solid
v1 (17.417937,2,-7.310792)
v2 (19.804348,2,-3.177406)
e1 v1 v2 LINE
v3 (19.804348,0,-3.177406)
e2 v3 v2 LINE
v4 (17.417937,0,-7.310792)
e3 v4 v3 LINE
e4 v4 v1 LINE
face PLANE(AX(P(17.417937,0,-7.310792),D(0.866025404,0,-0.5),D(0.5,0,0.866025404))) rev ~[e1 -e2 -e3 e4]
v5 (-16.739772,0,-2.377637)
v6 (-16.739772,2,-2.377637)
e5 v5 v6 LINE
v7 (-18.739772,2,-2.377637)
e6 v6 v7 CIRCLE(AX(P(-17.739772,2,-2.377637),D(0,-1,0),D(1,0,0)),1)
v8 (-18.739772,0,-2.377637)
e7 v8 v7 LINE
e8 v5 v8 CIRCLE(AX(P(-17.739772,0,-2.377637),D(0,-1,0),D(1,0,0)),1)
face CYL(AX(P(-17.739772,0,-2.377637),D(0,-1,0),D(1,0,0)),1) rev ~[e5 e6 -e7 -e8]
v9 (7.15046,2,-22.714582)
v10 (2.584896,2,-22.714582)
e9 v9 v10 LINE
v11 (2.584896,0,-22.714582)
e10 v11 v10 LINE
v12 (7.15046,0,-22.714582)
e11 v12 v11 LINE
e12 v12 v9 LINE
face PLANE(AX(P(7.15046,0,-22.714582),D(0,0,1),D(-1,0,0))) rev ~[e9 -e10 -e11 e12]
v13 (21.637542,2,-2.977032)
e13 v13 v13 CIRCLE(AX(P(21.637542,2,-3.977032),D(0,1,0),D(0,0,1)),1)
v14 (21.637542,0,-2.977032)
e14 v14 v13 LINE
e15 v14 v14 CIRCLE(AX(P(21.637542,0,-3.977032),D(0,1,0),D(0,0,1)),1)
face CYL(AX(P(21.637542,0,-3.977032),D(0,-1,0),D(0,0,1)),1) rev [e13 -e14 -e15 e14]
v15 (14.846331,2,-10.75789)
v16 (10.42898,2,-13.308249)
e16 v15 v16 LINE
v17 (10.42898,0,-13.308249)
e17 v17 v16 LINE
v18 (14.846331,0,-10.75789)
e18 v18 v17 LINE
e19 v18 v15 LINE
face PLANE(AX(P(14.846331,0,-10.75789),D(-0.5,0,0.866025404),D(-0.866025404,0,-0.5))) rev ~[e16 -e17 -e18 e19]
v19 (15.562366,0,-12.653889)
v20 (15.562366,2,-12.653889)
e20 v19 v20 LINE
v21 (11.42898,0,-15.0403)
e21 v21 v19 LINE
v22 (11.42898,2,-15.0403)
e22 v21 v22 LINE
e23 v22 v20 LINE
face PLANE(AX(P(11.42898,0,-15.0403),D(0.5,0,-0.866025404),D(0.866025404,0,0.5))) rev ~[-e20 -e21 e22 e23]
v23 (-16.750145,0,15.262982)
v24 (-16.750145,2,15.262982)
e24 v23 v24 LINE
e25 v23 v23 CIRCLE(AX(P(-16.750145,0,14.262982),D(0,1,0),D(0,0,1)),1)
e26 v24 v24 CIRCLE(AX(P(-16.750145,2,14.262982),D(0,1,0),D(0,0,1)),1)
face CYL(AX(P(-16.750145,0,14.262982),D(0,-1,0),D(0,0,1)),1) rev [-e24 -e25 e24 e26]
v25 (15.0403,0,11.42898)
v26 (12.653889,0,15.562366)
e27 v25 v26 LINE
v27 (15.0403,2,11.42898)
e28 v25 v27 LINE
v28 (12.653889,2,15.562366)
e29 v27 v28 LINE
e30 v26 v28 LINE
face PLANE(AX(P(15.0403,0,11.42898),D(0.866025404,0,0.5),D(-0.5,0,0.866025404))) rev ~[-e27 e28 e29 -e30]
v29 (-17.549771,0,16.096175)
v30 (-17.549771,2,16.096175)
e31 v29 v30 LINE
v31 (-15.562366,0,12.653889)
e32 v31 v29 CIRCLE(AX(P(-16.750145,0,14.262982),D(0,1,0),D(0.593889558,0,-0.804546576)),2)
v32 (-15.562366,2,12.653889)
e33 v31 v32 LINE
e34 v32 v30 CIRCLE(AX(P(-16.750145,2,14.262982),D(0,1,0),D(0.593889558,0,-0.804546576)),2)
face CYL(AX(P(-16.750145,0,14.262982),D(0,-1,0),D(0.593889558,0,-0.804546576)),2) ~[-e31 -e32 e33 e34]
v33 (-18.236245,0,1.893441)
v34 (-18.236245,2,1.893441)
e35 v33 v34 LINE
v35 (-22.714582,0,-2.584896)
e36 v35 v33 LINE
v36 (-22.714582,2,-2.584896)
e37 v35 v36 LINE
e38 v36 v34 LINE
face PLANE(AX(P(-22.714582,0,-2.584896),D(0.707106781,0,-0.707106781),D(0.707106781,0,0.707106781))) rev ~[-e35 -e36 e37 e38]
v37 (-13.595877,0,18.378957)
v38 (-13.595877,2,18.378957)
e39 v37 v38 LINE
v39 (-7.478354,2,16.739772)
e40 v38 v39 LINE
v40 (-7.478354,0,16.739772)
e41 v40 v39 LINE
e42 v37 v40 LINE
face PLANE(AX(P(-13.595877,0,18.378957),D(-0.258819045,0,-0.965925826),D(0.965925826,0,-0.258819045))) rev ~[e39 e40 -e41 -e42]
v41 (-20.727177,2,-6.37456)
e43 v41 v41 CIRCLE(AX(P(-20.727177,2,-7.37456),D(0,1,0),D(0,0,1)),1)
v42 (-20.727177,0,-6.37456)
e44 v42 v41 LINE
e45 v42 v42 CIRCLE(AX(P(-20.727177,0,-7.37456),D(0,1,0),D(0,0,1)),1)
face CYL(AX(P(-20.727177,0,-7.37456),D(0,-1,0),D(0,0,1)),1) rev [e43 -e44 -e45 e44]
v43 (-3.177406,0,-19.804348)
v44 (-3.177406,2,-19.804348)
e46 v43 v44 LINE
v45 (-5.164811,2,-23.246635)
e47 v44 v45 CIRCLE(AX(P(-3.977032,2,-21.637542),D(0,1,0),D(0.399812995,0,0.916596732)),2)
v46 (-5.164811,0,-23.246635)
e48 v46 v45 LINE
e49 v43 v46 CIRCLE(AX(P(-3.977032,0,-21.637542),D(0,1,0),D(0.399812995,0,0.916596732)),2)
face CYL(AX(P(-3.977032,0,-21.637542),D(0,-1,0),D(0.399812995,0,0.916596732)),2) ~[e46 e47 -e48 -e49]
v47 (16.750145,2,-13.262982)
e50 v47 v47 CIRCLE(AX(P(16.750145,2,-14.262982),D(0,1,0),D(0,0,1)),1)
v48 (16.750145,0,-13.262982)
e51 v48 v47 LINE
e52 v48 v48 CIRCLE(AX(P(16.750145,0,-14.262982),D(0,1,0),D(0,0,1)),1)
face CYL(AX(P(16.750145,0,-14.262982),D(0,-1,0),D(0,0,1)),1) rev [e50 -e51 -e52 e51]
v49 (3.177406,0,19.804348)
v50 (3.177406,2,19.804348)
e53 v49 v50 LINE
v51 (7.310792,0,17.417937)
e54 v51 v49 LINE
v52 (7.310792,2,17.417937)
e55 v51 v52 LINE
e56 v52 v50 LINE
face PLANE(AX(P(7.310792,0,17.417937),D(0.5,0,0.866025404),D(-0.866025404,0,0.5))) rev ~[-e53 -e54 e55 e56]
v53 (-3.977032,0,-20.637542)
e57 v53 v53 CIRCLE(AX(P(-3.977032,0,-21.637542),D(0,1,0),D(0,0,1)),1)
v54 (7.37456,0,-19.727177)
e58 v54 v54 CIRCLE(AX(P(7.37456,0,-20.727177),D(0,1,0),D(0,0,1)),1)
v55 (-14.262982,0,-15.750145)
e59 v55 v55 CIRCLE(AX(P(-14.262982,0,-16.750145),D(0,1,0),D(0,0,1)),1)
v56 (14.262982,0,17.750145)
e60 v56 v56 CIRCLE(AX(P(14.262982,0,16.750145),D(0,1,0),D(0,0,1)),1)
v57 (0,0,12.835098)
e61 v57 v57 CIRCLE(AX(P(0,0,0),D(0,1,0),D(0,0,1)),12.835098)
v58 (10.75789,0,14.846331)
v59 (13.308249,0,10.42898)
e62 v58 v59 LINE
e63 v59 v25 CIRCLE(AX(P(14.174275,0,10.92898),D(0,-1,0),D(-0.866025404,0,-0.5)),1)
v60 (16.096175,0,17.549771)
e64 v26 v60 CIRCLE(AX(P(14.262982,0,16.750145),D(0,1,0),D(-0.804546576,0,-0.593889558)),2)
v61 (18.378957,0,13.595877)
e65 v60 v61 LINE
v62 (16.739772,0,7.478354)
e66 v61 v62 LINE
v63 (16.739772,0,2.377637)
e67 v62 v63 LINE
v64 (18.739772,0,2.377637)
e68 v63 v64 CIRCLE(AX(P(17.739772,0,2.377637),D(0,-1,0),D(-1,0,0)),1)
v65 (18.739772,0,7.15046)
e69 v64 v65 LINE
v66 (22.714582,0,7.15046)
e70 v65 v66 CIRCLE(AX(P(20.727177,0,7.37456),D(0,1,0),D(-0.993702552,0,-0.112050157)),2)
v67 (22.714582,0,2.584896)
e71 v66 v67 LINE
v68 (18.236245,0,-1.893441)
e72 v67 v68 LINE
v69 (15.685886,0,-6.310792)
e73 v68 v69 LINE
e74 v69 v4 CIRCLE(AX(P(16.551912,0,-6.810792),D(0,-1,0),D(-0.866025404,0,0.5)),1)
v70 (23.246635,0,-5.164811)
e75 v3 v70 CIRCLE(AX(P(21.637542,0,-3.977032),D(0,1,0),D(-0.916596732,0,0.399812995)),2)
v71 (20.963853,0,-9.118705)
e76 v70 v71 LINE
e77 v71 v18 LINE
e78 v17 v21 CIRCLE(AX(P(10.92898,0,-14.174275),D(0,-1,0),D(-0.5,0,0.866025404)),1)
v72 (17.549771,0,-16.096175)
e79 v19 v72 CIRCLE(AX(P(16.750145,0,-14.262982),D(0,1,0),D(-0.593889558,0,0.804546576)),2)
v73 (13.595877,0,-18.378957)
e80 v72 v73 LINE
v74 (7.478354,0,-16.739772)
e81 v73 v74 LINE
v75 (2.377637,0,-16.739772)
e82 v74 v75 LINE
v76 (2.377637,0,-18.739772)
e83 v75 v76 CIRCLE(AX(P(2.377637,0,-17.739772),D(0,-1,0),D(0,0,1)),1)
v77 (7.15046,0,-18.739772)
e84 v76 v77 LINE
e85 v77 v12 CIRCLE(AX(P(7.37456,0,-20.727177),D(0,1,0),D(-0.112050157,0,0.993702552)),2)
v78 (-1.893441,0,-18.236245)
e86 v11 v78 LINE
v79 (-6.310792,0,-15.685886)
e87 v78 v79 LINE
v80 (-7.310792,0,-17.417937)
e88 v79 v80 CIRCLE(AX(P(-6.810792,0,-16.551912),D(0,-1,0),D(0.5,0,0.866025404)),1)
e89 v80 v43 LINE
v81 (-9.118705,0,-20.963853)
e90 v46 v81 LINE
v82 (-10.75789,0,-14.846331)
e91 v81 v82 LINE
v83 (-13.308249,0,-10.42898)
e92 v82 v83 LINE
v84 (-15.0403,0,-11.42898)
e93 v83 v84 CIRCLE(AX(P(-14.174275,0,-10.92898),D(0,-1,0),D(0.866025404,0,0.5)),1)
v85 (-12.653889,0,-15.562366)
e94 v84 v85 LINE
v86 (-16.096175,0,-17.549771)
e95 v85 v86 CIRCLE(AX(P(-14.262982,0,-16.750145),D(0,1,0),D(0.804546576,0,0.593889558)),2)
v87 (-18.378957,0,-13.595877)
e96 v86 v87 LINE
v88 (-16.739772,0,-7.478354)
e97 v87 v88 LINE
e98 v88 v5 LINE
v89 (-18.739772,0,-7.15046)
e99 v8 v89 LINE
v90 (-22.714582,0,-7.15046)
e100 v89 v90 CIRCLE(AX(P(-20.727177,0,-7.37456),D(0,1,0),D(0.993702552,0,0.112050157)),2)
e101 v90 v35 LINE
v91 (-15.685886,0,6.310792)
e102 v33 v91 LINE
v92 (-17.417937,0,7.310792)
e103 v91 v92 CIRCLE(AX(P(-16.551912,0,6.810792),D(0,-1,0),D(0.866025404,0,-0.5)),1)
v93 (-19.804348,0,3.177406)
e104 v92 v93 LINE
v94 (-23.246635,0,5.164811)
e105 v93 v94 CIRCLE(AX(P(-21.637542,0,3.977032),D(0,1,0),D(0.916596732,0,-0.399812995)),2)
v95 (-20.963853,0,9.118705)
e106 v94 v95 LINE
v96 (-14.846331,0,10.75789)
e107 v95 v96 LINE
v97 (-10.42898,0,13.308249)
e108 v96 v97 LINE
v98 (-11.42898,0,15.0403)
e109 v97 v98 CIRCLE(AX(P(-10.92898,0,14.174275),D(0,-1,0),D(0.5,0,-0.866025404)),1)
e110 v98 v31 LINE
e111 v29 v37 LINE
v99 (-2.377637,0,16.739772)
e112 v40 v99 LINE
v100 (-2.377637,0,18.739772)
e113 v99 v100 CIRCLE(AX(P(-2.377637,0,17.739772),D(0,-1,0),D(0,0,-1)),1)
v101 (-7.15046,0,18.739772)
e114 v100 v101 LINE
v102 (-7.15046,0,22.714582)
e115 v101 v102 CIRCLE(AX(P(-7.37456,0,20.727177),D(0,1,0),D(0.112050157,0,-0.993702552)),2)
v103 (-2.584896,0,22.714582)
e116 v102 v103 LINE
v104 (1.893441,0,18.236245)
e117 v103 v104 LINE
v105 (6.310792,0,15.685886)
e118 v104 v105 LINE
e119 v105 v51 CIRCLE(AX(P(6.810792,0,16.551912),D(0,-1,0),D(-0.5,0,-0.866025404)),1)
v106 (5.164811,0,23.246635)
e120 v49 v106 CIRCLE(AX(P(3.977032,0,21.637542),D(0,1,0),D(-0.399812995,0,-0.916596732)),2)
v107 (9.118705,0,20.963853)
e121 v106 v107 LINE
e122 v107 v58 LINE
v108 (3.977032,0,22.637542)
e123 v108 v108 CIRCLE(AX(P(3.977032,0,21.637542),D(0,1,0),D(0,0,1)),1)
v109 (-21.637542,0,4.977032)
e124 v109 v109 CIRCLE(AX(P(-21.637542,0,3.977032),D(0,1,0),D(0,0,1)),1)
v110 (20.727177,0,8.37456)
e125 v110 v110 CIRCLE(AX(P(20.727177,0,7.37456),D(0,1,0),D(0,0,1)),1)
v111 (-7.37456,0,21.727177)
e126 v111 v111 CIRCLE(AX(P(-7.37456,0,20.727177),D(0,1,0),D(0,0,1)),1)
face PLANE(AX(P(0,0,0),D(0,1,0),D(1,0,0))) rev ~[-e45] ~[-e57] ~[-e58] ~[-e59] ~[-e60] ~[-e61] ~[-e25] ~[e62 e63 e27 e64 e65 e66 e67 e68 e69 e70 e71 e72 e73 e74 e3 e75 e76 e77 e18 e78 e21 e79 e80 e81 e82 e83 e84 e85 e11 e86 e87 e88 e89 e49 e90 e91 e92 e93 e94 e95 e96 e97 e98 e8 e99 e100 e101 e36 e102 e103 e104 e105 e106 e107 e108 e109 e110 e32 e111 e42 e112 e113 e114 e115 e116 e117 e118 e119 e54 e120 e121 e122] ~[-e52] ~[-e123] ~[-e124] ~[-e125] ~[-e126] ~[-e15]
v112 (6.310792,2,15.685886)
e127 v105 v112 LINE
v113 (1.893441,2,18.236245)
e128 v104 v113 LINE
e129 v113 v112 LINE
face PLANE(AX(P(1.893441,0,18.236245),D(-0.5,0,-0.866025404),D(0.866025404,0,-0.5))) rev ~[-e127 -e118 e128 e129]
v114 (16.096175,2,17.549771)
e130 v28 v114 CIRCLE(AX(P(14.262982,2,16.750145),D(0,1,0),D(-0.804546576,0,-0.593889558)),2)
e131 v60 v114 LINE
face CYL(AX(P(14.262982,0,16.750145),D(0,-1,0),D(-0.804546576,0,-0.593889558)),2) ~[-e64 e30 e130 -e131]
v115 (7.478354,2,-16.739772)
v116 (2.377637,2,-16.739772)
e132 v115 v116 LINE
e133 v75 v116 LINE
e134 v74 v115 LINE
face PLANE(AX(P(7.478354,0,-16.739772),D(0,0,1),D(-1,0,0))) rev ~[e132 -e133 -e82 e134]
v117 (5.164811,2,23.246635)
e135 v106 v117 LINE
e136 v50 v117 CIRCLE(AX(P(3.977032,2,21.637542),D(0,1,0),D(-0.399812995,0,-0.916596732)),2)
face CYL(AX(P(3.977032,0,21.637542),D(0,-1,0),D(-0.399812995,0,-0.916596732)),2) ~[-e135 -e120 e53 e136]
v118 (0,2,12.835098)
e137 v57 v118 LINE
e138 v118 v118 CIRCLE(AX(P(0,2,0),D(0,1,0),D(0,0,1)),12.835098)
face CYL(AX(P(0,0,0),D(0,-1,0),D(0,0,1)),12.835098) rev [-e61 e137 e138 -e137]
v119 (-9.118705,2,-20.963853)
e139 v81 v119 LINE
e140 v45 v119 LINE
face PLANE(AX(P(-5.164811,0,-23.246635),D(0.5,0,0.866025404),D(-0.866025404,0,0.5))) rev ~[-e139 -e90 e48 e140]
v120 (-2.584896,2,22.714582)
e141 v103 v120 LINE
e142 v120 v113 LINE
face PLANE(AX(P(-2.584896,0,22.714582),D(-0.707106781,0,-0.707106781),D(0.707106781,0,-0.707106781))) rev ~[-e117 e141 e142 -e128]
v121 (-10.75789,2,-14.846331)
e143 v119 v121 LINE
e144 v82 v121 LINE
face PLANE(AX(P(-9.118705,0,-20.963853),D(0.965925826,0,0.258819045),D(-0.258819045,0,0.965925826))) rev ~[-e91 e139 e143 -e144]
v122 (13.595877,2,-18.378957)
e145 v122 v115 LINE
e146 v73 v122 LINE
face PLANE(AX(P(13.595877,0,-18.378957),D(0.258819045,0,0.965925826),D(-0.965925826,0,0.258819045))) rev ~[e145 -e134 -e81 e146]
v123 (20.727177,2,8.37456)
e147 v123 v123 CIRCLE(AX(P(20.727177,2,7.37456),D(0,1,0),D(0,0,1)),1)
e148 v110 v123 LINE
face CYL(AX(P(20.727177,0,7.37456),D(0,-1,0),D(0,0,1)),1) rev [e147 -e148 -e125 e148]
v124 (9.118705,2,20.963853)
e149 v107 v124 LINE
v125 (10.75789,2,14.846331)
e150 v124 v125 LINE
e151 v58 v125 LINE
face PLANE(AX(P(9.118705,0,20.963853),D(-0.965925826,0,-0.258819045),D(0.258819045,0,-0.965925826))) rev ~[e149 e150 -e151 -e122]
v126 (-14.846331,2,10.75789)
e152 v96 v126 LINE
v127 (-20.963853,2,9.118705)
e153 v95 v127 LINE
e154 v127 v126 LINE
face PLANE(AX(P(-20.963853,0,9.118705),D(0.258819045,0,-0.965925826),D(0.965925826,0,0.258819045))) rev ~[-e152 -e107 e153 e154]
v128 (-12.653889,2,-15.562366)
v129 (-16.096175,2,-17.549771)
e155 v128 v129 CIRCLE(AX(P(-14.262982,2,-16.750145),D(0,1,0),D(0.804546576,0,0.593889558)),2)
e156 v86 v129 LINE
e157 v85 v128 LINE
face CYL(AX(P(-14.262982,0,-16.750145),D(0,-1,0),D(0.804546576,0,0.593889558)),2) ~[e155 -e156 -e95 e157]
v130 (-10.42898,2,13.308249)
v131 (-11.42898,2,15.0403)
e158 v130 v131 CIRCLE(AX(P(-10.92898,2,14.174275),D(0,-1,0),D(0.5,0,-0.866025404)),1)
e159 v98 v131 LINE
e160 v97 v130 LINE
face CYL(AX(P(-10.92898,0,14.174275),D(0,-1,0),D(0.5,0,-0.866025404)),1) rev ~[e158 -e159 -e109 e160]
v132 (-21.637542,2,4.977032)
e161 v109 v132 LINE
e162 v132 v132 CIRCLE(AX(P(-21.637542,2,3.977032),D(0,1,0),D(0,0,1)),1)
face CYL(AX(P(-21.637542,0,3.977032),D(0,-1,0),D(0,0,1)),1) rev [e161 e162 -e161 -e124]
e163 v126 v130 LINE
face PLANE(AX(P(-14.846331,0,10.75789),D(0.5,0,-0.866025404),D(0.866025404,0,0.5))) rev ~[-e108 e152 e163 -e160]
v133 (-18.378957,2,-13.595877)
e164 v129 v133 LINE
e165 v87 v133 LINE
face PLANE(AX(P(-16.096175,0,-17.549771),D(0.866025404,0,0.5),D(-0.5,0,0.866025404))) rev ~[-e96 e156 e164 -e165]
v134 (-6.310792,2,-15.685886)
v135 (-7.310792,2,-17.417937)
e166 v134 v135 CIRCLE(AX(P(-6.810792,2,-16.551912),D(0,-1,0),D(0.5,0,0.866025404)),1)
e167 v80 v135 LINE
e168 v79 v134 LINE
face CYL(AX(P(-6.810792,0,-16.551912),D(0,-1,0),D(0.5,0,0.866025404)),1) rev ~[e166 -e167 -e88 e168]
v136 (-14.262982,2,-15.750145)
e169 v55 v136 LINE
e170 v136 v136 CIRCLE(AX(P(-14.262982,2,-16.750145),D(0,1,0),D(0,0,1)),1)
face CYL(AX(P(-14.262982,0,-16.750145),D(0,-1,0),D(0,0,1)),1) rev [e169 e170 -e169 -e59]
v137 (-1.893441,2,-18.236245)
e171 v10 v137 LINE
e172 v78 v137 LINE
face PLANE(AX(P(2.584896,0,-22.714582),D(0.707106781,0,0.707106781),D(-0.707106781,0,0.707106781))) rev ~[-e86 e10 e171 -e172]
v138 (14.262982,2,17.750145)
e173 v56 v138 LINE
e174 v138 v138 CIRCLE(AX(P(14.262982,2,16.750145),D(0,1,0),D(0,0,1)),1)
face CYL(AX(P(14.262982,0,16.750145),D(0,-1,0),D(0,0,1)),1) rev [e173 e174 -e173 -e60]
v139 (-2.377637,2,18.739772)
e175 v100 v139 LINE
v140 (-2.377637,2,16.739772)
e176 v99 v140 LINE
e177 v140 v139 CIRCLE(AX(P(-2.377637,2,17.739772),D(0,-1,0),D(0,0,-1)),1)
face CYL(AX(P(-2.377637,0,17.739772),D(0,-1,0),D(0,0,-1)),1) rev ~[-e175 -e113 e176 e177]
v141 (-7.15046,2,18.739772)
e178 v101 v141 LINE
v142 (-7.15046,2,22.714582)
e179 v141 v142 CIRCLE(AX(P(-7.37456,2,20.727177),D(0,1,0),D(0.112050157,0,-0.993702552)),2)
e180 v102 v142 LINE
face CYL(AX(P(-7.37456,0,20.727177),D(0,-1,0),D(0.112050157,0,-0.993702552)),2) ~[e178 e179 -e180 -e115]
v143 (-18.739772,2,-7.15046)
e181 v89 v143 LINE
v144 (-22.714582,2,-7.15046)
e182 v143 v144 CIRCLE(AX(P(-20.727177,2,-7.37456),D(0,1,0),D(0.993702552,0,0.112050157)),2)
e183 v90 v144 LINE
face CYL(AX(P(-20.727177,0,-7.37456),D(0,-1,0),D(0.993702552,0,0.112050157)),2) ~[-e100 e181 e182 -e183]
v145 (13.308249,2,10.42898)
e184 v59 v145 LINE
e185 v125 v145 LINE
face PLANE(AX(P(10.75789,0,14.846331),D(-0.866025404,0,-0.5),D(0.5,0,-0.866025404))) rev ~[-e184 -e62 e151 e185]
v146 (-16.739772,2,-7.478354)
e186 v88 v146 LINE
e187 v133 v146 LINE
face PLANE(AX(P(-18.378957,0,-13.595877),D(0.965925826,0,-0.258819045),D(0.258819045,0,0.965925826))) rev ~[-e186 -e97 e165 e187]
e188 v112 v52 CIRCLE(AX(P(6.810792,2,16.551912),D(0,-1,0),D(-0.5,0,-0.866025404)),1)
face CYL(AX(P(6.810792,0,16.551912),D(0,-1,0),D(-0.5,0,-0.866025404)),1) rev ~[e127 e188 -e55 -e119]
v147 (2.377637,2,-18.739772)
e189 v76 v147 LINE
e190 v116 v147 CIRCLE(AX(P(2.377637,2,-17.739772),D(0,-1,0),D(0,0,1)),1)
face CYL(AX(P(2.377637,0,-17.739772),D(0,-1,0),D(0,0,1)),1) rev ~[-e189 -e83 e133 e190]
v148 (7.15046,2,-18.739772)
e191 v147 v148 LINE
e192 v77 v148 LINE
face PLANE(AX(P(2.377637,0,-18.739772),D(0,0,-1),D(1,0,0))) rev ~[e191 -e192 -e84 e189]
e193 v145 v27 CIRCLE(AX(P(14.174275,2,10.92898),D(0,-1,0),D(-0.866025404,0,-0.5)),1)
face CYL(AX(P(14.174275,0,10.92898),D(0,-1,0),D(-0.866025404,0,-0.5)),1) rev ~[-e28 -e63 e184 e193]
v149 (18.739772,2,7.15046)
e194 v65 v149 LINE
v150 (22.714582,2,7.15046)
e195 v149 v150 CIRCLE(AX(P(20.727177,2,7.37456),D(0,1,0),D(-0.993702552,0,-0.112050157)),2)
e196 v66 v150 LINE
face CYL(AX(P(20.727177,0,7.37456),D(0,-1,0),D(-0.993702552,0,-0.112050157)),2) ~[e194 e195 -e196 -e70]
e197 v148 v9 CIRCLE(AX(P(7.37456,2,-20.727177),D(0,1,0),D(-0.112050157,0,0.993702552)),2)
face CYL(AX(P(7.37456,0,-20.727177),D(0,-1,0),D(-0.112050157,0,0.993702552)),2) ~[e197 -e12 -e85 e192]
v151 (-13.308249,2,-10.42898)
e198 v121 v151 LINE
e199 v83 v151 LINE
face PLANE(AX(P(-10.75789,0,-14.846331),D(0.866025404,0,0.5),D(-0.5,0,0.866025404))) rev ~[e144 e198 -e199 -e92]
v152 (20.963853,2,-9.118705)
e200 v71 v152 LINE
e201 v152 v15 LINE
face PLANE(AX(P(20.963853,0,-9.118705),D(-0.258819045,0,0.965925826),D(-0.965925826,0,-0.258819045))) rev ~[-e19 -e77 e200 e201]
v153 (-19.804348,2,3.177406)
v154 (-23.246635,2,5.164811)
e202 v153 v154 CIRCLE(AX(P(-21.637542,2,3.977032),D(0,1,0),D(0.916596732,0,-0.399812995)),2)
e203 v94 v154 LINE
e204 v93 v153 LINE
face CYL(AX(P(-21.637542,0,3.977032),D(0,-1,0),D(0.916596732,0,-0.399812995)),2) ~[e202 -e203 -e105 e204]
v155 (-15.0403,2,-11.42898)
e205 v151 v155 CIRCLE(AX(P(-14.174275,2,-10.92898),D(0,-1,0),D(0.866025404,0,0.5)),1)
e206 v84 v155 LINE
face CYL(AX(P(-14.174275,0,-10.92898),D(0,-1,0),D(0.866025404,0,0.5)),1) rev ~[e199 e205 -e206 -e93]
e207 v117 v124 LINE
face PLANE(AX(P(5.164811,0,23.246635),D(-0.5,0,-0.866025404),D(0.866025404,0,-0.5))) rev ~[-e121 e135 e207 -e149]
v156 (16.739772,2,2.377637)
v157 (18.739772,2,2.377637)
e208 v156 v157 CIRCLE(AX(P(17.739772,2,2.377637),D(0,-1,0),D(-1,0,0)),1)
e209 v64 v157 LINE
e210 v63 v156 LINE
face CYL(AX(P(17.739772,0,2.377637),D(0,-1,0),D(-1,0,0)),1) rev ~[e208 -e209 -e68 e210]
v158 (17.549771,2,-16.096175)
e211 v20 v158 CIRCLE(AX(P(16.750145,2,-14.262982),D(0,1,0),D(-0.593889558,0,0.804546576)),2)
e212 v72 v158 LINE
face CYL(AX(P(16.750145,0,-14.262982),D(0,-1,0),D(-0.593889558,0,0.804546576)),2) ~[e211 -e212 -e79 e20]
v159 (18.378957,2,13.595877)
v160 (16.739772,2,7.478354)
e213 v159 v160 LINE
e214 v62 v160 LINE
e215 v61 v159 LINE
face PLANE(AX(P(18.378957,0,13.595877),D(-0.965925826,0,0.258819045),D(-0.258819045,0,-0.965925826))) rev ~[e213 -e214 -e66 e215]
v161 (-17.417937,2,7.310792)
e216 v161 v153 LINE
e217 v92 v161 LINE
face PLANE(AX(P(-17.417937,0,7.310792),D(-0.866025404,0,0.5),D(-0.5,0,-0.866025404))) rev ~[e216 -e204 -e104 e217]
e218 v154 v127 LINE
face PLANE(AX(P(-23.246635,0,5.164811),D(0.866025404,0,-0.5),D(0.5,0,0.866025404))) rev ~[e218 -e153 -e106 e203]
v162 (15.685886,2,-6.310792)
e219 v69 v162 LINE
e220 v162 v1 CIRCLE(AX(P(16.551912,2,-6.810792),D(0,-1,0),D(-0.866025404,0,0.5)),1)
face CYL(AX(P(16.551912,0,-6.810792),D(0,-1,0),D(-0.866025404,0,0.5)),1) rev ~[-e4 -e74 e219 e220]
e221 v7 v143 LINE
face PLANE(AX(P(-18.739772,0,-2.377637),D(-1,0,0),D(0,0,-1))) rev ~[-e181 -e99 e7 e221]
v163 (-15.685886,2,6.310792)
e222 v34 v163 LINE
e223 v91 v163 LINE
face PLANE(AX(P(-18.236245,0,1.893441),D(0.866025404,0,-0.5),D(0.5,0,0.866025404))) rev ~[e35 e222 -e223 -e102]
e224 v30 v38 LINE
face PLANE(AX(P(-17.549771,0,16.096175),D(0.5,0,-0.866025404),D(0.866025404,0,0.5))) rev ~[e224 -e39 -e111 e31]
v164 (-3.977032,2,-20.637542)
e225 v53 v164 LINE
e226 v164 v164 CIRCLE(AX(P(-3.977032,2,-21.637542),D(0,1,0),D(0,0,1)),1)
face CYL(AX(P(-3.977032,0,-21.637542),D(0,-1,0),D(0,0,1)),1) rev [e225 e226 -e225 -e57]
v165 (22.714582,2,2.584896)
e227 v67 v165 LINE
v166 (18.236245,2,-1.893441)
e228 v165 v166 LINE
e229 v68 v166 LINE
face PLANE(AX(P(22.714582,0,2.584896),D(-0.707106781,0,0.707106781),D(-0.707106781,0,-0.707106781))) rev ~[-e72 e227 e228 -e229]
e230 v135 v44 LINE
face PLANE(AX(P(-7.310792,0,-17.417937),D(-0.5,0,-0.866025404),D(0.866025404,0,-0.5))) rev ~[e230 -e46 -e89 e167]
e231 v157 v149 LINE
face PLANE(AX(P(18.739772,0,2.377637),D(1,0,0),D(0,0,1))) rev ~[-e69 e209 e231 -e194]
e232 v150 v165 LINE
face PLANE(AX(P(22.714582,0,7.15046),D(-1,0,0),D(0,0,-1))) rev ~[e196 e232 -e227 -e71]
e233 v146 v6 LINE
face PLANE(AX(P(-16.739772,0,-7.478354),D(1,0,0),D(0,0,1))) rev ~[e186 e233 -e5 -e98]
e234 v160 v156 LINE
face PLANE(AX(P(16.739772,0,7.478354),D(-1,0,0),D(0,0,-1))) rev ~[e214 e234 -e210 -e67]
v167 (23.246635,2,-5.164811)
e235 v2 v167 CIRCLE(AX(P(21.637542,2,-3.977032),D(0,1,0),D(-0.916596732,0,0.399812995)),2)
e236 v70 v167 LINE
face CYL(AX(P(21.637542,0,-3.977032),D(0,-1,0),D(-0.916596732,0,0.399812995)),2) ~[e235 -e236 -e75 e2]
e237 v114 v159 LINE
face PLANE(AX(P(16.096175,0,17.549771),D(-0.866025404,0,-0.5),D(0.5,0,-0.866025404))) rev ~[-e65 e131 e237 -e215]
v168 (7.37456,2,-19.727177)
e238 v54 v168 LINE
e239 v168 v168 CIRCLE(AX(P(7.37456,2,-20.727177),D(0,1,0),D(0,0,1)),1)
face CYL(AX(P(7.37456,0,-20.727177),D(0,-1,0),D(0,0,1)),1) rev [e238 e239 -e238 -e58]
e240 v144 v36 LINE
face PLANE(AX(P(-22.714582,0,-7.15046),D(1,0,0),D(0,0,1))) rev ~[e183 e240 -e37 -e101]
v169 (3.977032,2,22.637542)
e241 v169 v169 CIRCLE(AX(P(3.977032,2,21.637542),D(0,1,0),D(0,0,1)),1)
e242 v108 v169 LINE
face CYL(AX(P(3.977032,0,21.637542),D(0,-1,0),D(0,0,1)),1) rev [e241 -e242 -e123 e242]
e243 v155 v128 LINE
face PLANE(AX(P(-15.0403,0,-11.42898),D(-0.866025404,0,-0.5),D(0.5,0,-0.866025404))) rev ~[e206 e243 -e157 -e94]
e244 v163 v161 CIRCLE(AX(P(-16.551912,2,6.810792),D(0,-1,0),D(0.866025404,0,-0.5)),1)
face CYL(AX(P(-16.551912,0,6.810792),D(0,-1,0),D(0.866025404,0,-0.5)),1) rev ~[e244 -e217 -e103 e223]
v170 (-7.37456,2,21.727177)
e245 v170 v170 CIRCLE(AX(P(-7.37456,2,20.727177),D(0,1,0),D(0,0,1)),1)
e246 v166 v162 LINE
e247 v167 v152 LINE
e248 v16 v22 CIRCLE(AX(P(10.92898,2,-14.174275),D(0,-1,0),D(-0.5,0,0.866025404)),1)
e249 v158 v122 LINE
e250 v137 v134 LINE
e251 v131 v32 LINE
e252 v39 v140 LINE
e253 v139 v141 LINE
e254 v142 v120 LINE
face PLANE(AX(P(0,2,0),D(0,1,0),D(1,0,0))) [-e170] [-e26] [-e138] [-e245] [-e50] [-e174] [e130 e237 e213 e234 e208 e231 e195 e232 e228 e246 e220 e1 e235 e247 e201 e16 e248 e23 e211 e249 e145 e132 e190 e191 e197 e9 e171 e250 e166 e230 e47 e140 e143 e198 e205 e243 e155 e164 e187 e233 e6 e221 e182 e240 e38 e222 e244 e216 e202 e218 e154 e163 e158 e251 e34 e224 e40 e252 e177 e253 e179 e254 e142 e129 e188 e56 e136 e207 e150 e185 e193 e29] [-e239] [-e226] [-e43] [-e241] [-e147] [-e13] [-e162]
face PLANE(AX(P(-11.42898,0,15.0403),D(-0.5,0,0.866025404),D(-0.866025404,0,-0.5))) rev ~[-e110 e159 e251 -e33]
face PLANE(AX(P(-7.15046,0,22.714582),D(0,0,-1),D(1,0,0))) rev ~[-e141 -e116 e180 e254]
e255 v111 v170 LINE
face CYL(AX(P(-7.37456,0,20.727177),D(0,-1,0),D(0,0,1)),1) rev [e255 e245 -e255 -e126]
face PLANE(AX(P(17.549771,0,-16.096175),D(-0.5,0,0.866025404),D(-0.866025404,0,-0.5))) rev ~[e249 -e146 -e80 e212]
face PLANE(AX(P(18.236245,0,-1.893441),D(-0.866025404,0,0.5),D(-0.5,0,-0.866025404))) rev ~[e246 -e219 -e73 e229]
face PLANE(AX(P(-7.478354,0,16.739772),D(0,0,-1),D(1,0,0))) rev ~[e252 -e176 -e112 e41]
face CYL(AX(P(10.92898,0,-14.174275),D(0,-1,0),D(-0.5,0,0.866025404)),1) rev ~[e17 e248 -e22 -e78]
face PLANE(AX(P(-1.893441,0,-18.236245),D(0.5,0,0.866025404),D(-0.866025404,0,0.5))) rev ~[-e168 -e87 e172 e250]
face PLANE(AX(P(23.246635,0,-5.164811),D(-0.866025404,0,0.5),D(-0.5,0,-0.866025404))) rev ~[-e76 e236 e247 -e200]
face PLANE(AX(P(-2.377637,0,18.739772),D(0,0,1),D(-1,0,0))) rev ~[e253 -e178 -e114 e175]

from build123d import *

# Parameters (mm, degrees)
SKETCH_1_R      = 1
SKETCH_1_R_2    = 12.835097572
EXTRUDE_1_DEPTH = 2


with BuildPart() as part:
    # 草图1 → 凸台-拉伸1 (new body)
    with BuildSketch(Plane(origin=(0, 0, 0), x_dir=(1, 0, 0), z_dir=(0, 1, 0))):
        with BuildLine():
            Line((7.150459564, 22.71458211), (2.584896164, 22.71458211))
            Line((2.584896164, 22.71458211), (-1.893440977, 18.236244969))
            Line((-1.893440977, 18.236244969), (-6.310791907, 15.68588622))
            ThreePointArc((-6.310791907, 15.68588622), (-7.676817311, 16.051911624), (-7.310791907, 17.417937028))
            Line((-7.310791907, 17.417937028), (-3.177406319, 19.80434831))
            ThreePointArc((-3.177406319, 19.80434831), (-2.244981501, 22.637541774), (-5.164811424, 23.246634926))
            Line((-5.164811424, 23.246634926), (-9.118705311, 20.963853226))
            Line((-9.118705311, 20.963853226), (-10.757890471, 14.846330924))
            Line((-10.757890471, 14.846330924), (-13.30824922, 10.428979994))
            ThreePointArc((-13.30824922, 10.428979994), (-14.674274623, 10.06295459), (-15.040300027, 11.428979994))
            Line((-15.040300027, 11.428979994), (-12.653888745, 15.562365582))
            ThreePointArc((-12.653888745, 15.562365582), (-13.262981897, 18.482195505), (-16.096175362, 17.549770686))
            Line((-16.096175362, 17.549770686), (-18.378957062, 13.5958768))
            Line((-18.378957062, 13.5958768), (-16.739771901, 7.478354497))
            Line((-16.739771901, 7.478354497), (-16.739771901, 2.377637001))
            ThreePointArc((-16.739771901, 2.377637001), (-17.739771901, 1.377637001), (-18.739771901, 2.377637001))
            Line((-18.739771901, 2.377637001), (-18.739771901, 7.150459564))
            ThreePointArc((-18.739771901, 7.150459564), (-20.727177006, 9.374559877), (-22.71458211, 7.150459564))
            Line((-22.71458211, 7.150459564), (-22.71458211, 2.584896164))
            Line((-22.71458211, 2.584896164), (-18.236244969, -1.893440977))
            Line((-18.236244969, -1.893440977), (-15.68588622, -6.310791907))
            ThreePointArc((-15.68588622, -6.310791907), (-16.051911624, -7.676817311), (-17.417937028, -7.310791907))
            Line((-17.417937028, -7.310791907), (-19.80434831, -3.177406319))
            ThreePointArc((-19.80434831, -3.177406319), (-22.637541774, -2.244981501), (-23.246634926, -5.164811424))
            Line((-23.246634926, -5.164811424), (-20.963853226, -9.118705311))
            Line((-20.963853226, -9.118705311), (-14.846330924, -10.757890471))
            Line((-14.846330924, -10.757890471), (-10.428979994, -13.30824922))
            ThreePointArc((-10.428979994, -13.30824922), (-10.06295459, -14.674274623), (-11.428979994, -15.040300027))
            Line((-11.428979994, -15.040300027), (-15.562365582, -12.653888745))
            ThreePointArc((-15.562365582, -12.653888745), (-18.482195505, -13.262981897), (-17.549770686, -16.096175362))
            Line((-17.549770686, -16.096175362), (-13.5958768, -18.378957062))
            Line((-13.5958768, -18.378957062), (-7.478354497, -16.739771901))
            Line((-7.478354497, -16.739771901), (-2.377637001, -16.739771901))
            ThreePointArc((-2.377637001, -16.739771901), (-1.377637001, -17.739771901), (-2.377637001, -18.739771901))
            Line((-2.377637001, -18.739771901), (-7.150459564, -18.739771901))
            ThreePointArc((-7.150459564, -18.739771901), (-9.374559877, -20.727177006), (-7.150459564, -22.71458211))
            Line((-7.150459564, -22.71458211), (-2.584896164, -22.71458211))
            Line((-2.584896164, -22.71458211), (1.893440977, -18.236244969))
            Line((1.893440977, -18.236244969), (6.310791907, -15.68588622))
            ThreePointArc((6.310791907, -15.68588622), (7.676817311, -16.051911624), (7.310791907, -17.417937028))
            Line((7.310791907, -17.417937028), (3.177406319, -19.80434831))
            ThreePointArc((3.177406319, -19.80434831), (2.244981501, -22.637541774), (5.164811424, -23.246634926))
            Line((5.164811424, -23.246634926), (9.118705311, -20.963853226))
            Line((9.118705311, -20.963853226), (10.757890471, -14.846330924))
            Line((10.757890471, -14.846330924), (13.30824922, -10.428979994))
            ThreePointArc((13.30824922, -10.428979994), (14.674274623, -10.06295459), (15.040300027, -11.428979994))
            Line((15.040300027, -11.428979994), (12.653888745, -15.562365582))
            ThreePointArc((12.653888745, -15.562365582), (13.262981897, -18.482195505), (16.096175362, -17.549770686))
            Line((16.096175362, -17.549770686), (18.378957062, -13.5958768))
            Line((18.378957062, -13.5958768), (16.739771901, -7.478354497))
            Line((16.739771901, -7.478354497), (16.739771901, -2.377637001))
            ThreePointArc((16.739771901, -2.377637001), (17.739771901, -1.377637001), (18.739771901, -2.377637001))
            Line((18.739771901, -2.377637001), (18.739771901, -7.150459564))
            ThreePointArc((18.739771901, -7.150459564), (20.727177006, -9.374559877), (22.71458211, -7.150459564))
            Line((22.71458211, -7.150459564), (22.71458211, -2.584896164))
            Line((22.71458211, -2.584896164), (18.236244969, 1.893440977))
            Line((18.236244969, 1.893440977), (15.68588622, 6.310791907))
            ThreePointArc((15.68588622, 6.310791907), (16.051911624, 7.676817311), (17.417937028, 7.310791907))
            Line((17.417937028, 7.310791907), (19.80434831, 3.177406319))
            ThreePointArc((19.80434831, 3.177406319), (22.637541774, 2.244981501), (23.246634926, 5.164811424))
            Line((23.246634926, 5.164811424), (20.963853226, 9.118705311))
            Line((20.963853226, 9.118705311), (14.846330924, 10.757890471))
            Line((14.846330924, 10.757890471), (10.428979994, 13.30824922))
            ThreePointArc((10.428979994, 13.30824922), (10.06295459, 14.674274623), (11.428979994, 15.040300027))
            Line((11.428979994, 15.040300027), (15.562365582, 12.653888745))
            ThreePointArc((15.562365582, 12.653888745), (18.482195505, 13.262981897), (17.549770686, 16.096175362))
            Line((17.549770686, 16.096175362), (13.5958768, 18.378957062))
            Line((13.5958768, 18.378957062), (7.478354497, 16.739771901))
            Line((7.478354497, 16.739771901), (2.377637001, 16.739771901))
            ThreePointArc((2.377637001, 16.739771901), (1.377637001, 17.739771901), (2.377637001, 18.739771901))
            Line((2.377637001, 18.739771901), (7.150459564, 18.739771901))
            ThreePointArc((7.150459564, 18.739771901), (9.374559877, 20.727177006), (7.150459564, 22.71458211))
        make_face()
        with Locations(Location((7.374559877, 20.727177006, 0), (0, 0, 270))):
            Circle(SKETCH_1_R, mode=Mode.SUBTRACT)
        with Locations(Location((16.750144698, 14.262981897, 0), (0, 0, 270))):
            Circle(SKETCH_1_R, mode=Mode.SUBTRACT)
        with Locations(Location((21.637541774, 3.977032308, 0), (0, 0, 270))):
            Circle(SKETCH_1_R, mode=Mode.SUBTRACT)
        with Locations(Location((20.727177006, -7.374559877, 0), (0, 0, 270))):
            Circle(SKETCH_1_R, mode=Mode.SUBTRACT)
        with Locations(Location((14.262981897, -16.750144698, 0), (0, 0, 270))):
            Circle(SKETCH_1_R, mode=Mode.SUBTRACT)
        with Locations(Location((3.977032308, -21.637541774, 0), (0, 0, 270))):
            Circle(SKETCH_1_R, mode=Mode.SUBTRACT)
        with Locations(Location((-7.374559877, -20.727177006, 0), (0, 0, 270))):
            Circle(SKETCH_1_R, mode=Mode.SUBTRACT)
        with Locations(Location((-16.750144698, -14.262981897, 0), (0, 0, 270))):
            Circle(SKETCH_1_R, mode=Mode.SUBTRACT)
        with Locations(Location((-21.637541774, -3.977032308, 0), (0, 0, 270))):
            Circle(SKETCH_1_R, mode=Mode.SUBTRACT)
        with Locations(Location((-20.727177006, 7.374559877, 0), (0, 0, 270))):
            Circle(SKETCH_1_R, mode=Mode.SUBTRACT)
        with Locations(Location((-14.262981897, 16.750144698, 0), (0, 0, 270))):
            Circle(SKETCH_1_R, mode=Mode.SUBTRACT)
        with Locations(Location((-3.977032308, 21.637541774, 0), (0, 0, 270))):
            Circle(SKETCH_1_R, mode=Mode.SUBTRACT)
        with Locations(Location((0, 0, 0), (0, 0, 270))):
            Circle(SKETCH_1_R_2, mode=Mode.SUBTRACT)
    extrude(amount=EXTRUDE_1_DEPTH)


solid = part.part
